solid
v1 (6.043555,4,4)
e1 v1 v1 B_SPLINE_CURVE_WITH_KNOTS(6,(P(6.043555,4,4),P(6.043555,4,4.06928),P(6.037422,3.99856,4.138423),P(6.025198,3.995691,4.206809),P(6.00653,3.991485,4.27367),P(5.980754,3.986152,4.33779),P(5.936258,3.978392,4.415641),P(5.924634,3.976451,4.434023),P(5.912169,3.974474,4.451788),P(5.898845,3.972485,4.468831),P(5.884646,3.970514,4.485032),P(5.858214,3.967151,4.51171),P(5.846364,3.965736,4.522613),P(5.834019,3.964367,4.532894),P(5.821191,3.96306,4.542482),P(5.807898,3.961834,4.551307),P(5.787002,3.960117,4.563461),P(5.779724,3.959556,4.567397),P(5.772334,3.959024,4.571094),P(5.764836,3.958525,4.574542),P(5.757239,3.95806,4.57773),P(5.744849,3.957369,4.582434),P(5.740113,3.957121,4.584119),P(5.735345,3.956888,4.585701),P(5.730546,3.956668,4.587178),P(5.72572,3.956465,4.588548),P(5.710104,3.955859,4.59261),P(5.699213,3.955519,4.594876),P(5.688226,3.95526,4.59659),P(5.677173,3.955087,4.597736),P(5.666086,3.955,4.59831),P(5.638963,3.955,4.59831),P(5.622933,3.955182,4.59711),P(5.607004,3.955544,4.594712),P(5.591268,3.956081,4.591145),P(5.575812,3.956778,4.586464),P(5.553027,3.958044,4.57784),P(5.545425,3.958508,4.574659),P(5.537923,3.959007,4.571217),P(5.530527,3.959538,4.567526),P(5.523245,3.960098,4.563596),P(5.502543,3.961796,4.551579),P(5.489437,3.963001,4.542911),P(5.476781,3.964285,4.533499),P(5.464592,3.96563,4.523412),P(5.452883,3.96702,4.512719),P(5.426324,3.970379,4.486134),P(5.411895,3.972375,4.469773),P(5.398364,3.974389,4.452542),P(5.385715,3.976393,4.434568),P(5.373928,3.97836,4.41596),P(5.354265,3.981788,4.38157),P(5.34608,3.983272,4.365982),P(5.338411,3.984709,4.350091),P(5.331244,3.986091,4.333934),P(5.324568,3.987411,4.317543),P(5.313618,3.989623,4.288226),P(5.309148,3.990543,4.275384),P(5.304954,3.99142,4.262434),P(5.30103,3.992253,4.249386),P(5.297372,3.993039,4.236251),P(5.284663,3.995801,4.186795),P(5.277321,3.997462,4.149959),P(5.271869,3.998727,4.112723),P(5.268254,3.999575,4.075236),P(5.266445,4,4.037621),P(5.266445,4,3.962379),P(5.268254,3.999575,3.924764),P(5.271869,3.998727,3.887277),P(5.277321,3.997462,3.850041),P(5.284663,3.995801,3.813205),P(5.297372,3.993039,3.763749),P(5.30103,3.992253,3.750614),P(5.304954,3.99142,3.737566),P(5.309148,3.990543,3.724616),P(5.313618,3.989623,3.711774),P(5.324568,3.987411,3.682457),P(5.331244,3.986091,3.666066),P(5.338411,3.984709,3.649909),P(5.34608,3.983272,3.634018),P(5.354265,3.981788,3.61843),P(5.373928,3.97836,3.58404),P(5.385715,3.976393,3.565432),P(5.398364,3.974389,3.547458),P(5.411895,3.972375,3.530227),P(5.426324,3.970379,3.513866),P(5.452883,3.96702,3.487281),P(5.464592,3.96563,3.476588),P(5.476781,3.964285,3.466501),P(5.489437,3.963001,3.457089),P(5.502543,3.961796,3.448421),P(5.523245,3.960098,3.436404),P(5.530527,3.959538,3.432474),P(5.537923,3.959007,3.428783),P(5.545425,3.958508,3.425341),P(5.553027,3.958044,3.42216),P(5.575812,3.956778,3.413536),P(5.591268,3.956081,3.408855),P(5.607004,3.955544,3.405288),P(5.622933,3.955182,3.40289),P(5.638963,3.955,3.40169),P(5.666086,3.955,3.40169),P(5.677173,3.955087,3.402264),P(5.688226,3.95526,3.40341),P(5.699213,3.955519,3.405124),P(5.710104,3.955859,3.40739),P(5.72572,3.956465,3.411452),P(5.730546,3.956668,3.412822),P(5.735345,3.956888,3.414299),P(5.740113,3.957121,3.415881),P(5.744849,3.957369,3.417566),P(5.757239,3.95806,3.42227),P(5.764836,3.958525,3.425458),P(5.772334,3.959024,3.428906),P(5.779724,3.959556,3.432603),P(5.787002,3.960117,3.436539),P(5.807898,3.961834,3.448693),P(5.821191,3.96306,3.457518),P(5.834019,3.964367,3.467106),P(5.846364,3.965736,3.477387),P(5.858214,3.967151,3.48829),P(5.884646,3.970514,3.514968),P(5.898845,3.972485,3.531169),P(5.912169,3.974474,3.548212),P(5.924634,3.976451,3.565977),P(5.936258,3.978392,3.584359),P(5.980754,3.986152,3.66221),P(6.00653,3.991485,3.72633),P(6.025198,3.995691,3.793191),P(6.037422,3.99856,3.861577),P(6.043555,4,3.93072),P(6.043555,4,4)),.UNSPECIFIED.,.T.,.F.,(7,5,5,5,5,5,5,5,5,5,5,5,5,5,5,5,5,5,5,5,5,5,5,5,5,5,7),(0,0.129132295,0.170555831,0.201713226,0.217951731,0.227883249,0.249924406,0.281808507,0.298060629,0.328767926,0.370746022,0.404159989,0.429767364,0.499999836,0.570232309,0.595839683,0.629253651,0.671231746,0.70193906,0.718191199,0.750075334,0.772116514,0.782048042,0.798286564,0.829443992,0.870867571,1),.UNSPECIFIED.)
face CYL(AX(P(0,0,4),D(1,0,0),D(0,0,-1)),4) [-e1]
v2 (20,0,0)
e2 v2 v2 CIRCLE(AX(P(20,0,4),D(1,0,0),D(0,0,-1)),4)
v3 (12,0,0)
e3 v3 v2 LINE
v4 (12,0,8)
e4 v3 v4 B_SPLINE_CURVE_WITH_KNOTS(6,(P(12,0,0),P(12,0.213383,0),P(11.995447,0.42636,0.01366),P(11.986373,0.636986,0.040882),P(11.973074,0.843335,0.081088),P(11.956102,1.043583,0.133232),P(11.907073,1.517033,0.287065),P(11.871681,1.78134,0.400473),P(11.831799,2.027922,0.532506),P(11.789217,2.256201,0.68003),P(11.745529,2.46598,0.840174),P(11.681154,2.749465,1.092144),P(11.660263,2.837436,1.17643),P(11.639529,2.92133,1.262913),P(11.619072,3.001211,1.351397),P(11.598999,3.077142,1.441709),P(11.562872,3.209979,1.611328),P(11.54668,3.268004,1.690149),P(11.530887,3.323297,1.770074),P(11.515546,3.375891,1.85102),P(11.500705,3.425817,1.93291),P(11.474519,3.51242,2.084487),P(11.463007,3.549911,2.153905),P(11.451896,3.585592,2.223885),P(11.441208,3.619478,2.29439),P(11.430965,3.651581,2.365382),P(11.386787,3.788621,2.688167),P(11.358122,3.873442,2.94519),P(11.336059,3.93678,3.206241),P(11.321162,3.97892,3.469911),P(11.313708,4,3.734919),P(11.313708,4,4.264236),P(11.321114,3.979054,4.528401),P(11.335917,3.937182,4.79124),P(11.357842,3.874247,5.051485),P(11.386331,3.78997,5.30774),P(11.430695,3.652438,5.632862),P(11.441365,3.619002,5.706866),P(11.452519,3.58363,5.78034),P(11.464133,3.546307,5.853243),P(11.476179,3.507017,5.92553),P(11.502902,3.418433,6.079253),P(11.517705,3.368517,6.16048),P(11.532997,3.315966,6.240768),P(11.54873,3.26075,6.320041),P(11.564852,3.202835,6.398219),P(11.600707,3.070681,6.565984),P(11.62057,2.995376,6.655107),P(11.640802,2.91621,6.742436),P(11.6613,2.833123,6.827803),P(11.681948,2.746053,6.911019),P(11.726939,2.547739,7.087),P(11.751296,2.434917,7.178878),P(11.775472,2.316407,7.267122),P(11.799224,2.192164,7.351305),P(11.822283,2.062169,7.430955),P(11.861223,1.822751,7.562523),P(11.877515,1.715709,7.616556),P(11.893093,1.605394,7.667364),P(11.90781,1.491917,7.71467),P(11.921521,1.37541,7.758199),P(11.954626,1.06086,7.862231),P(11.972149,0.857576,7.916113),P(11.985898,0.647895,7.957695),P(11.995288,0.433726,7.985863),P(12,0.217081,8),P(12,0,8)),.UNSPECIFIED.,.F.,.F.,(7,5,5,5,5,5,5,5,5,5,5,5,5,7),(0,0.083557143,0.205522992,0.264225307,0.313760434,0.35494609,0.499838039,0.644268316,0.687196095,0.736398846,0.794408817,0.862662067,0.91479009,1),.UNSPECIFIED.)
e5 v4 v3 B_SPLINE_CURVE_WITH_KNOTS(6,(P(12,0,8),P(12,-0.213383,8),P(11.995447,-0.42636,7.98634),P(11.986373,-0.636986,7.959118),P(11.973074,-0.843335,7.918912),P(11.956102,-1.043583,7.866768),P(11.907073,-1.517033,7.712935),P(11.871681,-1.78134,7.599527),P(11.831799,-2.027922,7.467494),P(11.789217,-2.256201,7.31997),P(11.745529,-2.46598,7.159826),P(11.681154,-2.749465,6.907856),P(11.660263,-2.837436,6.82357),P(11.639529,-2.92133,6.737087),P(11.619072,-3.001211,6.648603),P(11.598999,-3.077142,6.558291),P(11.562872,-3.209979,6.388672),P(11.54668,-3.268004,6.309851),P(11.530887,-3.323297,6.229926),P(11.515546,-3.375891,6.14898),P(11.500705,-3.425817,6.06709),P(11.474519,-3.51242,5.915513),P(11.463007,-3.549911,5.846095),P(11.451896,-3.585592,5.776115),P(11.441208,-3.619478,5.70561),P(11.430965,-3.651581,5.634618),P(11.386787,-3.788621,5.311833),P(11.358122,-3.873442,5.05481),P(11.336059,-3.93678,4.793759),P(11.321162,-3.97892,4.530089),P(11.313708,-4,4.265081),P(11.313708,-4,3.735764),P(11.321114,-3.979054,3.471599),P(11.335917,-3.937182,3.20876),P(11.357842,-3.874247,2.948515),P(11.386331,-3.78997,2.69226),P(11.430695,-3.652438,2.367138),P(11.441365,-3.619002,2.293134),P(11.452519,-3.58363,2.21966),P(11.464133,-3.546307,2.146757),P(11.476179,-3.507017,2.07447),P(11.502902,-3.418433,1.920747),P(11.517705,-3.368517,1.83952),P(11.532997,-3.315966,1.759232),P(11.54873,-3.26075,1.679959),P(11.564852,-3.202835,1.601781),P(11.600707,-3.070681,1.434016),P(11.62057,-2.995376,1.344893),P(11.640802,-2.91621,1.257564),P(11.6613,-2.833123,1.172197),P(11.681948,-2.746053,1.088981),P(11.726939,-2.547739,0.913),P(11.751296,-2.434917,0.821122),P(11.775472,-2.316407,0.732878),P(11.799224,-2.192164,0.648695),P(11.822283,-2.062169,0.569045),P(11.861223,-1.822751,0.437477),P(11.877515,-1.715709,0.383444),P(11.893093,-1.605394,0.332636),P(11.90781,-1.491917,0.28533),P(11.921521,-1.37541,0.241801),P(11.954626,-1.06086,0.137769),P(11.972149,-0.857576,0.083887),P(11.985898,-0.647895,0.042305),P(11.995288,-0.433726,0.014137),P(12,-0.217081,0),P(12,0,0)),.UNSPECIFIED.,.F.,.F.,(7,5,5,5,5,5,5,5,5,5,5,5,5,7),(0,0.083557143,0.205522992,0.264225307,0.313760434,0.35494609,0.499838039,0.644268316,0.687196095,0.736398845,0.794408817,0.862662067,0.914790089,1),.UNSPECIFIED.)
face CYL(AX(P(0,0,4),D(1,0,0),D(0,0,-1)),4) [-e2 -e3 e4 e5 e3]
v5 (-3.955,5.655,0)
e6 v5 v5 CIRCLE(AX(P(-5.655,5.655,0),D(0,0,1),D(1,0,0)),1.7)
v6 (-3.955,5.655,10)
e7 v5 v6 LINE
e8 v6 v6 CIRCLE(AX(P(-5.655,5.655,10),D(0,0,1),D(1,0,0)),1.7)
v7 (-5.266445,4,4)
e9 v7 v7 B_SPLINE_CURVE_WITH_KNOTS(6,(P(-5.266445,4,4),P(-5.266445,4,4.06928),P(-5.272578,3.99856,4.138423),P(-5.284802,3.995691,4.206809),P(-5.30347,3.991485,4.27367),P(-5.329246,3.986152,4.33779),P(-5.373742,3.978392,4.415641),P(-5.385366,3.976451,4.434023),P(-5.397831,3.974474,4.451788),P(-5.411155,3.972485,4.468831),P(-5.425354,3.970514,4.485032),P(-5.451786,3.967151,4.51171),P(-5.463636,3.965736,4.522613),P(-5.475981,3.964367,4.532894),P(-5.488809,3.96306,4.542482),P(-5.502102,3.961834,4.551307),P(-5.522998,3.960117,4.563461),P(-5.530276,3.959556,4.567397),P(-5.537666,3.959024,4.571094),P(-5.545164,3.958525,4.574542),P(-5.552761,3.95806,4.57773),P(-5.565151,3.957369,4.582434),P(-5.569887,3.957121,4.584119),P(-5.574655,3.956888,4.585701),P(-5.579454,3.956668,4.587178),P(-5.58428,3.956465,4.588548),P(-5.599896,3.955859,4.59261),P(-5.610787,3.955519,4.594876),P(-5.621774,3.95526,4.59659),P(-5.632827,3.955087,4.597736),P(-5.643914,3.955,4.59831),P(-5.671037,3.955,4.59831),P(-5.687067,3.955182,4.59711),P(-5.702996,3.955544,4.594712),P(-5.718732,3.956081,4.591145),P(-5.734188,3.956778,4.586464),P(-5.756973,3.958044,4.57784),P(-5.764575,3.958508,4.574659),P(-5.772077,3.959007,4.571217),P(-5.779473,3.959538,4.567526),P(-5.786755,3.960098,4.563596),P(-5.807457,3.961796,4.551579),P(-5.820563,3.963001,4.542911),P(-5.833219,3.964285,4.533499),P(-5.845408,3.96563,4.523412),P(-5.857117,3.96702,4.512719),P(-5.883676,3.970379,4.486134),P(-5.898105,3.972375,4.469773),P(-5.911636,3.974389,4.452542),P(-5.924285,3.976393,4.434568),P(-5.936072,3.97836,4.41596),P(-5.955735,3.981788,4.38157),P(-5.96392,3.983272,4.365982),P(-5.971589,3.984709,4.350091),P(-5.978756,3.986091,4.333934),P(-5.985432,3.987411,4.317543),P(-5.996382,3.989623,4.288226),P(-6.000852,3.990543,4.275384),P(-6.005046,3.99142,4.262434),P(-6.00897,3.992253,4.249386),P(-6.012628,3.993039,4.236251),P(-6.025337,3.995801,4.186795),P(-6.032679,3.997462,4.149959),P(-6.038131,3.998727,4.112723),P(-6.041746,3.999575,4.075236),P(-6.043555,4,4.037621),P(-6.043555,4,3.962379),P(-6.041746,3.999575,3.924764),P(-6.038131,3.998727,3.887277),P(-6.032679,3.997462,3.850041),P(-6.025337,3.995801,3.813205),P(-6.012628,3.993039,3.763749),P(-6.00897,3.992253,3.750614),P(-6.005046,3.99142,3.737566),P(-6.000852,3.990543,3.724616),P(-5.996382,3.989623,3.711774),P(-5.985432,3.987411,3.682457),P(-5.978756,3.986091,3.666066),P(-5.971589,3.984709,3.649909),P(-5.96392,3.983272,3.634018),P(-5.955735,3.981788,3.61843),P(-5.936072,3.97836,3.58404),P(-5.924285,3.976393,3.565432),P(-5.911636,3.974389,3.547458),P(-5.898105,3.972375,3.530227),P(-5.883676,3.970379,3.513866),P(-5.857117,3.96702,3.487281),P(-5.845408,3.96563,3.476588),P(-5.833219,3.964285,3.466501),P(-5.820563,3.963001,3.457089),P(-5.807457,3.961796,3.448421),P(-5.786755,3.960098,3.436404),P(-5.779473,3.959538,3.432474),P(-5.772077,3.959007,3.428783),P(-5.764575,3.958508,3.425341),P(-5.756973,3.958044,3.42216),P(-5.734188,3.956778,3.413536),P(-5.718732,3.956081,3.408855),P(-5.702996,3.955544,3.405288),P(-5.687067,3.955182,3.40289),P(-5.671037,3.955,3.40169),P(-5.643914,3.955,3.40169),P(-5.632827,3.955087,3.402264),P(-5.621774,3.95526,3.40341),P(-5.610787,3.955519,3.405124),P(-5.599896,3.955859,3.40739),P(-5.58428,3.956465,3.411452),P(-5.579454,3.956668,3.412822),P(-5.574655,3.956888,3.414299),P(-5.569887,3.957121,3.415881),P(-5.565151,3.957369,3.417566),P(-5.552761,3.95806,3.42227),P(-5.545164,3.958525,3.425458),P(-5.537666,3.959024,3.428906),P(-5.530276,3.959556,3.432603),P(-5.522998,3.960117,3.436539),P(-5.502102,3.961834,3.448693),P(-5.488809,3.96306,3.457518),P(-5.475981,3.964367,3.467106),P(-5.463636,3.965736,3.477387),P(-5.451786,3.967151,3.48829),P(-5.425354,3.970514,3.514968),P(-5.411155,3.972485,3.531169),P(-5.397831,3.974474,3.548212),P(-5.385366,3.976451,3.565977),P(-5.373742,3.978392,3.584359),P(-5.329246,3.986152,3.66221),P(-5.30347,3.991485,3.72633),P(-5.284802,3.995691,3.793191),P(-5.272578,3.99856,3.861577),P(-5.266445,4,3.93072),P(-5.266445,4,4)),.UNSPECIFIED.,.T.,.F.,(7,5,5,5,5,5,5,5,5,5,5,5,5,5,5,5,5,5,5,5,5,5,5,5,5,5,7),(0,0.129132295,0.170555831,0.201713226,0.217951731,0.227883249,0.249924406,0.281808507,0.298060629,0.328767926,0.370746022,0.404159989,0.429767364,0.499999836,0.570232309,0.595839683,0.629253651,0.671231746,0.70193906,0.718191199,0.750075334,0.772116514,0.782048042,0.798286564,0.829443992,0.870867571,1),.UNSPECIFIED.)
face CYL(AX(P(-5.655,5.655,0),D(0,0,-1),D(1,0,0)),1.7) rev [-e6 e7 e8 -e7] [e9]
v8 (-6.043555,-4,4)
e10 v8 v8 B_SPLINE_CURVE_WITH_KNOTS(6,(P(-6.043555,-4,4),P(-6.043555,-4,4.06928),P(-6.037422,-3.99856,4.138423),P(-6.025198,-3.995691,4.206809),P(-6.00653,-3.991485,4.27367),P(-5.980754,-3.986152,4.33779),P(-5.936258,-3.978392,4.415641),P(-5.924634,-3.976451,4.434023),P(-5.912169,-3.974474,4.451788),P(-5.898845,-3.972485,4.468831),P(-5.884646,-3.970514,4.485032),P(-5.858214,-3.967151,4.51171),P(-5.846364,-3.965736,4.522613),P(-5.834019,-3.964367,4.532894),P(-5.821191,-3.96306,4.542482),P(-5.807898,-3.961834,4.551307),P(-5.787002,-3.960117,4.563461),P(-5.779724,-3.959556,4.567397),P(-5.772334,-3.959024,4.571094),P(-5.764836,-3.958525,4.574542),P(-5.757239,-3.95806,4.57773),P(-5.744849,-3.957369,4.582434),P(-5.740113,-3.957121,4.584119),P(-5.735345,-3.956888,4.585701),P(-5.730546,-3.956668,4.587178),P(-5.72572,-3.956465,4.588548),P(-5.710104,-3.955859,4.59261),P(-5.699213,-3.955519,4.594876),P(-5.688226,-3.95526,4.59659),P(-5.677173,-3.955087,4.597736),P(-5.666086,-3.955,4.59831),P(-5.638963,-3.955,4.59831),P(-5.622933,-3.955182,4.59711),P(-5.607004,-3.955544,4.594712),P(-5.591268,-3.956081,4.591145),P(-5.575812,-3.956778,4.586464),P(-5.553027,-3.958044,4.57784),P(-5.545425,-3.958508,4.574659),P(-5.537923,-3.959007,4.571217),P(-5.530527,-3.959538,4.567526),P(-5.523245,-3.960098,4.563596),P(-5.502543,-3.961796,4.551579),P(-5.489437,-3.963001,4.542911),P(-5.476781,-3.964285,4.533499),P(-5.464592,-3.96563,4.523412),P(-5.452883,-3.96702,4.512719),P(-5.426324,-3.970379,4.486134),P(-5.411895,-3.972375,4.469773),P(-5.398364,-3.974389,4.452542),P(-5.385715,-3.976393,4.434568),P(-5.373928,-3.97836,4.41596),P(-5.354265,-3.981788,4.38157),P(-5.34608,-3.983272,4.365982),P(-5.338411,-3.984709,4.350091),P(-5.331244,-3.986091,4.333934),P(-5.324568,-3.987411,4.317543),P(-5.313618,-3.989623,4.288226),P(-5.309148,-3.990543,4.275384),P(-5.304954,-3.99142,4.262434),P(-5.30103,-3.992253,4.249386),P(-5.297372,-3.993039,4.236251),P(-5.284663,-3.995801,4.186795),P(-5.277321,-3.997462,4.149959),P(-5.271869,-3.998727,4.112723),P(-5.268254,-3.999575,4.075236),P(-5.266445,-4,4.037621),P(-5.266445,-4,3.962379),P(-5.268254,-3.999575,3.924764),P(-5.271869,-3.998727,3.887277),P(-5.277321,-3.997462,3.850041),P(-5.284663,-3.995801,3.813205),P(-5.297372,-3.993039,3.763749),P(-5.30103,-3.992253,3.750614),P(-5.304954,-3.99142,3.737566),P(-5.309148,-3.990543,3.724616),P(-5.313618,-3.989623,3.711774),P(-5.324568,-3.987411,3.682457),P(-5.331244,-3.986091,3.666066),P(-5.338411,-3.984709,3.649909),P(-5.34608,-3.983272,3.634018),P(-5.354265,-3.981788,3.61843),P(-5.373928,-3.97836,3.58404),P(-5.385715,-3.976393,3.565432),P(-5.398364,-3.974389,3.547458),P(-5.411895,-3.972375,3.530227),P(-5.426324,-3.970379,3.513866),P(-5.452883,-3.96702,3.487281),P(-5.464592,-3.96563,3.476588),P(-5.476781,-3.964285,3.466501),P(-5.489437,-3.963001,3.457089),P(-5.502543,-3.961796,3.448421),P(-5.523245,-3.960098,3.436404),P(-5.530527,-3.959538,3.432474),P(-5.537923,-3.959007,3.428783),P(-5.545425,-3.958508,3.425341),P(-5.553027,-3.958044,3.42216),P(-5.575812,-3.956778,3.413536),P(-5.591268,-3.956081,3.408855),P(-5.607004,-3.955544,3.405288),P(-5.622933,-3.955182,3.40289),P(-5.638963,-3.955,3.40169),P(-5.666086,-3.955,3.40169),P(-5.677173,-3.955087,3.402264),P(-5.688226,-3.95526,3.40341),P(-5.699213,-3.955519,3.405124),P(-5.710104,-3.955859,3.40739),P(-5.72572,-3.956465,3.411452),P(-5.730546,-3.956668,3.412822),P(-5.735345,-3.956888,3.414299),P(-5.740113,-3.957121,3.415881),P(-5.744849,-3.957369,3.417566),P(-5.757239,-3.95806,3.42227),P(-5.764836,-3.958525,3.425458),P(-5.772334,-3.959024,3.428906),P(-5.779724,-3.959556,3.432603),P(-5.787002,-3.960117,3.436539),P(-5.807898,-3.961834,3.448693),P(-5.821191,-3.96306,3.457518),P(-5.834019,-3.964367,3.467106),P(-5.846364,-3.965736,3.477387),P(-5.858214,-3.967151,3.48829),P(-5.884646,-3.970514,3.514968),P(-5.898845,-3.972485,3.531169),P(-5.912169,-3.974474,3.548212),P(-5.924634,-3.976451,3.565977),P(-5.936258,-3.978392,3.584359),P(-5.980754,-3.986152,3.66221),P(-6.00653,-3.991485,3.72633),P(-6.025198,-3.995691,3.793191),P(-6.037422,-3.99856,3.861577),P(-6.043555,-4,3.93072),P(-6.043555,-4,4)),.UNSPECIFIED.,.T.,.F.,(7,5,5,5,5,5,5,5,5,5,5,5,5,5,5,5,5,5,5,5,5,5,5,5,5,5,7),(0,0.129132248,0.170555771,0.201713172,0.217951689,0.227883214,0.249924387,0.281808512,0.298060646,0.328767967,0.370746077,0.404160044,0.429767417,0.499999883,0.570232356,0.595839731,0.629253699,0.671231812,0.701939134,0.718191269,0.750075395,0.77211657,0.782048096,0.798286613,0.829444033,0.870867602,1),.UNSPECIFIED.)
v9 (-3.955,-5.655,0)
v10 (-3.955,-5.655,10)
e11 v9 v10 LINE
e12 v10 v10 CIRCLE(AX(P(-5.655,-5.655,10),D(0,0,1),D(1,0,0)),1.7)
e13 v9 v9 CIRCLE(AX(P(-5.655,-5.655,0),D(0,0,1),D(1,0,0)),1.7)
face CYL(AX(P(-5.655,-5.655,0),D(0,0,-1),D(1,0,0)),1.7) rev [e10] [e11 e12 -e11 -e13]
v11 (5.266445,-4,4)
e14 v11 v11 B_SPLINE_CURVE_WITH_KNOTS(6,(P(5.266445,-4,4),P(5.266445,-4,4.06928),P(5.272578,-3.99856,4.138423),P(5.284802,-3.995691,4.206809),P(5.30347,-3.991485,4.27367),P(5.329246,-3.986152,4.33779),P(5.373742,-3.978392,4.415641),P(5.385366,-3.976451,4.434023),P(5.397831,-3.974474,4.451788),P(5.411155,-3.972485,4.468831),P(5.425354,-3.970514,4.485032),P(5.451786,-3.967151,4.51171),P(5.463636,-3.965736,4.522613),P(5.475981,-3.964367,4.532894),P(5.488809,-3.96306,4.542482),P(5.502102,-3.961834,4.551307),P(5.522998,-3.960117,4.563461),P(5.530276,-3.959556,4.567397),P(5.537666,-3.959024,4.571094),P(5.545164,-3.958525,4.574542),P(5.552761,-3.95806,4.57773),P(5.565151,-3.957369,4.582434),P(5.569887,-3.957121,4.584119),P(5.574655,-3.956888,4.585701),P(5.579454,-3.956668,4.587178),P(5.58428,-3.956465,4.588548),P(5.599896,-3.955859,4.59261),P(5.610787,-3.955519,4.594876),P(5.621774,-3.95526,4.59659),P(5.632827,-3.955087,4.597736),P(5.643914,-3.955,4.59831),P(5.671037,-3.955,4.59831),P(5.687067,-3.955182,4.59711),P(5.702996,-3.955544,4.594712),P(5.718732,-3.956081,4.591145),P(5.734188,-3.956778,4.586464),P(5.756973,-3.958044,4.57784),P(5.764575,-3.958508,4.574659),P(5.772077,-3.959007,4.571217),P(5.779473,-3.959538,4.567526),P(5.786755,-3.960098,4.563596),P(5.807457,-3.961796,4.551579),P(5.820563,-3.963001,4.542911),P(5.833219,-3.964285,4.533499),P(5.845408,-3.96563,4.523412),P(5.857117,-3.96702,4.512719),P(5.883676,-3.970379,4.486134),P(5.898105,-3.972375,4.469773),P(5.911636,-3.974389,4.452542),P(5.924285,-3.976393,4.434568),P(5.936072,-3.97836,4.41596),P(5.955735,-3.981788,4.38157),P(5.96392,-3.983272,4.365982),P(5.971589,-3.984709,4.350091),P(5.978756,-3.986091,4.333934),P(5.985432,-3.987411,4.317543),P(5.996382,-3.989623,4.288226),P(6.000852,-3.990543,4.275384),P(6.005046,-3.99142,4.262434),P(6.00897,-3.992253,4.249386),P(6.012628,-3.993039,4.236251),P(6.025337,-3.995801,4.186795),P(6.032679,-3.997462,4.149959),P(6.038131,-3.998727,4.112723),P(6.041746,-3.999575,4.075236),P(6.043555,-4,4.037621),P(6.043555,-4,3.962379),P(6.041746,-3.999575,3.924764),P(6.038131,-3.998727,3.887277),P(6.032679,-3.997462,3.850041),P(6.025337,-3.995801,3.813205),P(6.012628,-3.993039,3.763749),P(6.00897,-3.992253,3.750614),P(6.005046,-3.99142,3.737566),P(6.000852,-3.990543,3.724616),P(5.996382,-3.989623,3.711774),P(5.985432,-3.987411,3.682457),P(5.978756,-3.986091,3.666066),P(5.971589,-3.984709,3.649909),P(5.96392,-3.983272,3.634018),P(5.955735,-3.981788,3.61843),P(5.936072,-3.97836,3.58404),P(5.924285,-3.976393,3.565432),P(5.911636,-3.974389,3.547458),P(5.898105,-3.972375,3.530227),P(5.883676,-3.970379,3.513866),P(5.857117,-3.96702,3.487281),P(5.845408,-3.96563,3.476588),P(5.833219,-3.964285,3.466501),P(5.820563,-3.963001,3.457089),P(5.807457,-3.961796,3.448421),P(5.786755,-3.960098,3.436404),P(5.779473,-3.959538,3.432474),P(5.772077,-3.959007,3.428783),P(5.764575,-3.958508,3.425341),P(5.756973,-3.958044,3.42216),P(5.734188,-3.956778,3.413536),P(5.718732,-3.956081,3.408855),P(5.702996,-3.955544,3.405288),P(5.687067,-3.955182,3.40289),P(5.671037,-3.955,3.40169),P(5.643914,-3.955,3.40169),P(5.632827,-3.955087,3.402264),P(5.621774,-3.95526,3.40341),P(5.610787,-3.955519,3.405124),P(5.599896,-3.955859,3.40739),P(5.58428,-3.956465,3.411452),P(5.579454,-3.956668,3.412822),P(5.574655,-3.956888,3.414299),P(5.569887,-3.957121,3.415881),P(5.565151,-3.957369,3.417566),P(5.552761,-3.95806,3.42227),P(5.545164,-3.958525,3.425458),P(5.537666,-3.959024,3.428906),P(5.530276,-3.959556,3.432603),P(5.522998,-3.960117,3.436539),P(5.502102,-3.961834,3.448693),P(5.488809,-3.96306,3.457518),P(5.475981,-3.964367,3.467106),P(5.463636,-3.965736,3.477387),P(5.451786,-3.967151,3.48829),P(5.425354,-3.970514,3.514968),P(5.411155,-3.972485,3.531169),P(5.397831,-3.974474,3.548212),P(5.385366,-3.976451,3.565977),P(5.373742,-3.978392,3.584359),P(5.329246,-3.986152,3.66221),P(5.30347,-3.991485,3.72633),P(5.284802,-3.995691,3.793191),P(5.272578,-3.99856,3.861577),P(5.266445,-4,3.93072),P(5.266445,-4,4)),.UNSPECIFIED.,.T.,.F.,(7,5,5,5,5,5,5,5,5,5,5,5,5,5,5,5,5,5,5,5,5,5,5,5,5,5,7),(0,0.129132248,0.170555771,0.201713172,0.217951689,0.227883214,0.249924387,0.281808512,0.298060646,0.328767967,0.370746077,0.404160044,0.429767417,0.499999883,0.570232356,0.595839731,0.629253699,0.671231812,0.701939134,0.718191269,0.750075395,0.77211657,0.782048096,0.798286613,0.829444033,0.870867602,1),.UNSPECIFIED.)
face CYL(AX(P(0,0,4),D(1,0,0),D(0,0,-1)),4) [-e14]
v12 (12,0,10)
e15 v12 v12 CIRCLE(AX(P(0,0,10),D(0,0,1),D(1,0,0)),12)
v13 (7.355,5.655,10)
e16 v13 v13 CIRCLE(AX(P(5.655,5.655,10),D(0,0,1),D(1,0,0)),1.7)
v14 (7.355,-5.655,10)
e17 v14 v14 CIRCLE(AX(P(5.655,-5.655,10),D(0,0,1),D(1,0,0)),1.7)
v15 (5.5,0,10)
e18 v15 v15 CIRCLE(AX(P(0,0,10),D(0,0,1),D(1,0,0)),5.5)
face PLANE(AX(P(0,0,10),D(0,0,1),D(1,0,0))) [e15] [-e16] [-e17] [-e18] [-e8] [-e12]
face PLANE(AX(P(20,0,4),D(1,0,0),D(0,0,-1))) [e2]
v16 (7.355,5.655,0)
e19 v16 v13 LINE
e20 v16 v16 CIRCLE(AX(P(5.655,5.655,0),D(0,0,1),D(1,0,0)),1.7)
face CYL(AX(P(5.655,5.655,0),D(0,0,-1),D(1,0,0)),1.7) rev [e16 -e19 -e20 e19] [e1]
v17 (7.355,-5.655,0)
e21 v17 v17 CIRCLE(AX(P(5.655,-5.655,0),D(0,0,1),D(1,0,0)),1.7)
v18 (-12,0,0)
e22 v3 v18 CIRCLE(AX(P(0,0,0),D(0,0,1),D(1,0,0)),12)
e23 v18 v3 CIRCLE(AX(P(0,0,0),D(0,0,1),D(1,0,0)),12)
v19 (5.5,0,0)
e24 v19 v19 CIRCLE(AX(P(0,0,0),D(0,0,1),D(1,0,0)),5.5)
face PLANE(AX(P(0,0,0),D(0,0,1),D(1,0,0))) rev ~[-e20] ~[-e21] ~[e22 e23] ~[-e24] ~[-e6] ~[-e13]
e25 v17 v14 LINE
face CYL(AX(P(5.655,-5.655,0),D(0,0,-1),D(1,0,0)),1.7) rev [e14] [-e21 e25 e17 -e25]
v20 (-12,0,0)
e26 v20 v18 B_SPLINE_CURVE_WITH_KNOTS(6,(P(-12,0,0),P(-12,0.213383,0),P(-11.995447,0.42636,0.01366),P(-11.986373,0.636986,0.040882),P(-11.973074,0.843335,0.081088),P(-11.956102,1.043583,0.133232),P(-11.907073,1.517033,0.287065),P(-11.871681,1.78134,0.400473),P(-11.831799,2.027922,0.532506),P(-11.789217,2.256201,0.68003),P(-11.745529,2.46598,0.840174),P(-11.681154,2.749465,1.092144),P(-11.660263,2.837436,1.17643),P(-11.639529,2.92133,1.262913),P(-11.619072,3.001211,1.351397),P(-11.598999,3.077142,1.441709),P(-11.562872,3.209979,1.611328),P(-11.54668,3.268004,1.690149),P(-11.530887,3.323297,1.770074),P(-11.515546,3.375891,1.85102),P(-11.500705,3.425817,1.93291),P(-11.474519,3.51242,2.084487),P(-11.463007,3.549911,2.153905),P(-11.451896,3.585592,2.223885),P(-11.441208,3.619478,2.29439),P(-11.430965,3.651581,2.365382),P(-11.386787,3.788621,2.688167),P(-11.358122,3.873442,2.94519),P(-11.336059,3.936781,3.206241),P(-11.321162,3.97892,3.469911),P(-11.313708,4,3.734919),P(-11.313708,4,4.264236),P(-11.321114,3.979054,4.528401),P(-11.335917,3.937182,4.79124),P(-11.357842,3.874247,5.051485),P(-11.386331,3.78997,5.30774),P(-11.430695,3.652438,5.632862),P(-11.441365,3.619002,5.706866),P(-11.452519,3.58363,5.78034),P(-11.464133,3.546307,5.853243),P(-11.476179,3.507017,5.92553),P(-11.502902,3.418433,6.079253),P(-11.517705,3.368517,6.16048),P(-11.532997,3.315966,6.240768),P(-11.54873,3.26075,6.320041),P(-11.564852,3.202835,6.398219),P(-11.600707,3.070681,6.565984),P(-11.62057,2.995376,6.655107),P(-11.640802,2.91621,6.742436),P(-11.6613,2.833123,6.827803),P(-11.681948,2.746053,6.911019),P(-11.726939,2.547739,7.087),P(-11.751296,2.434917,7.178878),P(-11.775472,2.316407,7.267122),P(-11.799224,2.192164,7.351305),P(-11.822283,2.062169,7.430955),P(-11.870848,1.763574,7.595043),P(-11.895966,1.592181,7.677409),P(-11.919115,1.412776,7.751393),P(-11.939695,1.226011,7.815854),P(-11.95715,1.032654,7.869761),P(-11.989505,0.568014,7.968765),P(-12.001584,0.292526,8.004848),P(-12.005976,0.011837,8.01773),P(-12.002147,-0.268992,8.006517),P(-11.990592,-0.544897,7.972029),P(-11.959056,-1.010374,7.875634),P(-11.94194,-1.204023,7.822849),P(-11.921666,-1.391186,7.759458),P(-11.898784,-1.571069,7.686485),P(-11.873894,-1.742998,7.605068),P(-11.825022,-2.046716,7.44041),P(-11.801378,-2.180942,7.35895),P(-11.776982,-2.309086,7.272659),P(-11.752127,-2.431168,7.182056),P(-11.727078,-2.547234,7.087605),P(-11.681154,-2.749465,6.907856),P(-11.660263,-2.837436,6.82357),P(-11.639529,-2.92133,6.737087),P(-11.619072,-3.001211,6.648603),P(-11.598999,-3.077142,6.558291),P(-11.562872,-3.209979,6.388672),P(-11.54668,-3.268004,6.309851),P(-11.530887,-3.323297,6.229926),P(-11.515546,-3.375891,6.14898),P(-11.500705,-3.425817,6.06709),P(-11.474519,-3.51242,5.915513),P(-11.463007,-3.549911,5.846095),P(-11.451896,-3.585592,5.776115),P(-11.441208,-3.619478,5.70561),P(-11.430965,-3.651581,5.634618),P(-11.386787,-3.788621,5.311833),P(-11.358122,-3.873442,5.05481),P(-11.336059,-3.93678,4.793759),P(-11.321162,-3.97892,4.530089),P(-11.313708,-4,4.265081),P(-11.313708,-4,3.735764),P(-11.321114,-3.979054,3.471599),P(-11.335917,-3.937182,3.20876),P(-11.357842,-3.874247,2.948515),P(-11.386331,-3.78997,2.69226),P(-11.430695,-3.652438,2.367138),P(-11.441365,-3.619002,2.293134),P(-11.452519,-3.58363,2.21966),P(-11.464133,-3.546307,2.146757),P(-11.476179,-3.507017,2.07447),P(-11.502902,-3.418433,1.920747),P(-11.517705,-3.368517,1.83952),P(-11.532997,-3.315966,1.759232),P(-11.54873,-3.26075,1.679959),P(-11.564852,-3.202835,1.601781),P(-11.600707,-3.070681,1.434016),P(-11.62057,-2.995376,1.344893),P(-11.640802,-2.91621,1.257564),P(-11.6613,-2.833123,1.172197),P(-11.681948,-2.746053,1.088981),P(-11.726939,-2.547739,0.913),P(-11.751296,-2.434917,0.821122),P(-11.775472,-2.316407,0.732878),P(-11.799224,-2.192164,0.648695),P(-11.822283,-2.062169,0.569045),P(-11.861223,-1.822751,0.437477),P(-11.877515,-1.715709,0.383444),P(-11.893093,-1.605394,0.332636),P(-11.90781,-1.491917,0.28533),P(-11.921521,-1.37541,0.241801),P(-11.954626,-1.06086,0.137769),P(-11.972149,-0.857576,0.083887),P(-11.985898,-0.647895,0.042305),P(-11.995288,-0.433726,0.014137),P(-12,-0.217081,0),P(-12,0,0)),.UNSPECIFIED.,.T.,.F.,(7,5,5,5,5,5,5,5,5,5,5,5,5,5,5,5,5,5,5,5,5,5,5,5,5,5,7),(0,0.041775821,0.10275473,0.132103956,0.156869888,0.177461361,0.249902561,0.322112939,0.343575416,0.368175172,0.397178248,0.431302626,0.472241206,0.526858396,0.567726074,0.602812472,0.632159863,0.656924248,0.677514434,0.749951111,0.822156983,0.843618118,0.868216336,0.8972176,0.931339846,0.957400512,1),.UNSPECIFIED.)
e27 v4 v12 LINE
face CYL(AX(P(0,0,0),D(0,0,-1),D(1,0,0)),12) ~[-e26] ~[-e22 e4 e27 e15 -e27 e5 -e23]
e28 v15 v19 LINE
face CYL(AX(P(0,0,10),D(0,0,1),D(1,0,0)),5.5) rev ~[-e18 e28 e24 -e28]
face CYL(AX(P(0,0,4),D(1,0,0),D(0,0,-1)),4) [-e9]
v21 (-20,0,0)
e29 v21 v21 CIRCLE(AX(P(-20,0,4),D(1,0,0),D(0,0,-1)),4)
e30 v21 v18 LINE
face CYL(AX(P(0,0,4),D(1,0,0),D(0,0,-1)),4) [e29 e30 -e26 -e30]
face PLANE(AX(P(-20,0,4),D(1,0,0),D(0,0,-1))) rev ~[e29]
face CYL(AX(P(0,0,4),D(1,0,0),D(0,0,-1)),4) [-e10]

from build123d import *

# Parameters (mm, degrees)
CROQUIS1_R              = 12
CROQUIS1_R_2            = 1.7
SALIENTE_EXTRUIR1_DEPTH = 10
CROQUIS2_R              = 4
SALIENTE_EXTRUIR2_DEPTH = 20
CORTAR_EXTRUIR1_REACH   = 12
CROQUIS3_R              = 5.5


with BuildPart() as part:
    # Croquis1 → Saliente-Extruir1 (new body)
    with BuildSketch(Plane.XY):
        Circle(CROQUIS1_R)
        with Locations((-5.655, 5.655)):
            Circle(CROQUIS1_R_2, mode=Mode.SUBTRACT)
        with Locations((5.655, 5.655)):
            Circle(CROQUIS1_R_2, mode=Mode.SUBTRACT)
        with Locations((5.655, -5.655)):
            Circle(CROQUIS1_R_2, mode=Mode.SUBTRACT)
        with Locations((-5.655, -5.655)):
            Circle(CROQUIS1_R_2, mode=Mode.SUBTRACT)
    extrude(amount=SALIENTE_EXTRUIR1_DEPTH)

    # Croquis2 → Saliente-Extruir2 (add, symmetric)
    with BuildSketch(Plane(origin=(0, 0, 0), x_dir=(0, 0, -1), z_dir=(1, 0, 0))):
        with Locations((-4, 0)):
            Circle(CROQUIS2_R)
    extrude(amount=SALIENTE_EXTRUIR2_DEPTH, both=True)

    # Croquis3 → Cortar-Extruir1 (cut, up to next)
    with BuildSketch(Plane.XY.offset(10), mode=Mode.PRIVATE) as cortar_extruir1_sk1:
        Circle(CROQUIS3_R)
    cortar_extruir1_tool1 = extrude(cortar_extruir1_sk1.sketch, amount=-CORTAR_EXTRUIR1_REACH, mode=Mode.PRIVATE) & part.part
    add(cortar_extruir1_tool1.solids().sort_by_distance((0, 0, 10))[0], mode=Mode.SUBTRACT)


solid = part.part
